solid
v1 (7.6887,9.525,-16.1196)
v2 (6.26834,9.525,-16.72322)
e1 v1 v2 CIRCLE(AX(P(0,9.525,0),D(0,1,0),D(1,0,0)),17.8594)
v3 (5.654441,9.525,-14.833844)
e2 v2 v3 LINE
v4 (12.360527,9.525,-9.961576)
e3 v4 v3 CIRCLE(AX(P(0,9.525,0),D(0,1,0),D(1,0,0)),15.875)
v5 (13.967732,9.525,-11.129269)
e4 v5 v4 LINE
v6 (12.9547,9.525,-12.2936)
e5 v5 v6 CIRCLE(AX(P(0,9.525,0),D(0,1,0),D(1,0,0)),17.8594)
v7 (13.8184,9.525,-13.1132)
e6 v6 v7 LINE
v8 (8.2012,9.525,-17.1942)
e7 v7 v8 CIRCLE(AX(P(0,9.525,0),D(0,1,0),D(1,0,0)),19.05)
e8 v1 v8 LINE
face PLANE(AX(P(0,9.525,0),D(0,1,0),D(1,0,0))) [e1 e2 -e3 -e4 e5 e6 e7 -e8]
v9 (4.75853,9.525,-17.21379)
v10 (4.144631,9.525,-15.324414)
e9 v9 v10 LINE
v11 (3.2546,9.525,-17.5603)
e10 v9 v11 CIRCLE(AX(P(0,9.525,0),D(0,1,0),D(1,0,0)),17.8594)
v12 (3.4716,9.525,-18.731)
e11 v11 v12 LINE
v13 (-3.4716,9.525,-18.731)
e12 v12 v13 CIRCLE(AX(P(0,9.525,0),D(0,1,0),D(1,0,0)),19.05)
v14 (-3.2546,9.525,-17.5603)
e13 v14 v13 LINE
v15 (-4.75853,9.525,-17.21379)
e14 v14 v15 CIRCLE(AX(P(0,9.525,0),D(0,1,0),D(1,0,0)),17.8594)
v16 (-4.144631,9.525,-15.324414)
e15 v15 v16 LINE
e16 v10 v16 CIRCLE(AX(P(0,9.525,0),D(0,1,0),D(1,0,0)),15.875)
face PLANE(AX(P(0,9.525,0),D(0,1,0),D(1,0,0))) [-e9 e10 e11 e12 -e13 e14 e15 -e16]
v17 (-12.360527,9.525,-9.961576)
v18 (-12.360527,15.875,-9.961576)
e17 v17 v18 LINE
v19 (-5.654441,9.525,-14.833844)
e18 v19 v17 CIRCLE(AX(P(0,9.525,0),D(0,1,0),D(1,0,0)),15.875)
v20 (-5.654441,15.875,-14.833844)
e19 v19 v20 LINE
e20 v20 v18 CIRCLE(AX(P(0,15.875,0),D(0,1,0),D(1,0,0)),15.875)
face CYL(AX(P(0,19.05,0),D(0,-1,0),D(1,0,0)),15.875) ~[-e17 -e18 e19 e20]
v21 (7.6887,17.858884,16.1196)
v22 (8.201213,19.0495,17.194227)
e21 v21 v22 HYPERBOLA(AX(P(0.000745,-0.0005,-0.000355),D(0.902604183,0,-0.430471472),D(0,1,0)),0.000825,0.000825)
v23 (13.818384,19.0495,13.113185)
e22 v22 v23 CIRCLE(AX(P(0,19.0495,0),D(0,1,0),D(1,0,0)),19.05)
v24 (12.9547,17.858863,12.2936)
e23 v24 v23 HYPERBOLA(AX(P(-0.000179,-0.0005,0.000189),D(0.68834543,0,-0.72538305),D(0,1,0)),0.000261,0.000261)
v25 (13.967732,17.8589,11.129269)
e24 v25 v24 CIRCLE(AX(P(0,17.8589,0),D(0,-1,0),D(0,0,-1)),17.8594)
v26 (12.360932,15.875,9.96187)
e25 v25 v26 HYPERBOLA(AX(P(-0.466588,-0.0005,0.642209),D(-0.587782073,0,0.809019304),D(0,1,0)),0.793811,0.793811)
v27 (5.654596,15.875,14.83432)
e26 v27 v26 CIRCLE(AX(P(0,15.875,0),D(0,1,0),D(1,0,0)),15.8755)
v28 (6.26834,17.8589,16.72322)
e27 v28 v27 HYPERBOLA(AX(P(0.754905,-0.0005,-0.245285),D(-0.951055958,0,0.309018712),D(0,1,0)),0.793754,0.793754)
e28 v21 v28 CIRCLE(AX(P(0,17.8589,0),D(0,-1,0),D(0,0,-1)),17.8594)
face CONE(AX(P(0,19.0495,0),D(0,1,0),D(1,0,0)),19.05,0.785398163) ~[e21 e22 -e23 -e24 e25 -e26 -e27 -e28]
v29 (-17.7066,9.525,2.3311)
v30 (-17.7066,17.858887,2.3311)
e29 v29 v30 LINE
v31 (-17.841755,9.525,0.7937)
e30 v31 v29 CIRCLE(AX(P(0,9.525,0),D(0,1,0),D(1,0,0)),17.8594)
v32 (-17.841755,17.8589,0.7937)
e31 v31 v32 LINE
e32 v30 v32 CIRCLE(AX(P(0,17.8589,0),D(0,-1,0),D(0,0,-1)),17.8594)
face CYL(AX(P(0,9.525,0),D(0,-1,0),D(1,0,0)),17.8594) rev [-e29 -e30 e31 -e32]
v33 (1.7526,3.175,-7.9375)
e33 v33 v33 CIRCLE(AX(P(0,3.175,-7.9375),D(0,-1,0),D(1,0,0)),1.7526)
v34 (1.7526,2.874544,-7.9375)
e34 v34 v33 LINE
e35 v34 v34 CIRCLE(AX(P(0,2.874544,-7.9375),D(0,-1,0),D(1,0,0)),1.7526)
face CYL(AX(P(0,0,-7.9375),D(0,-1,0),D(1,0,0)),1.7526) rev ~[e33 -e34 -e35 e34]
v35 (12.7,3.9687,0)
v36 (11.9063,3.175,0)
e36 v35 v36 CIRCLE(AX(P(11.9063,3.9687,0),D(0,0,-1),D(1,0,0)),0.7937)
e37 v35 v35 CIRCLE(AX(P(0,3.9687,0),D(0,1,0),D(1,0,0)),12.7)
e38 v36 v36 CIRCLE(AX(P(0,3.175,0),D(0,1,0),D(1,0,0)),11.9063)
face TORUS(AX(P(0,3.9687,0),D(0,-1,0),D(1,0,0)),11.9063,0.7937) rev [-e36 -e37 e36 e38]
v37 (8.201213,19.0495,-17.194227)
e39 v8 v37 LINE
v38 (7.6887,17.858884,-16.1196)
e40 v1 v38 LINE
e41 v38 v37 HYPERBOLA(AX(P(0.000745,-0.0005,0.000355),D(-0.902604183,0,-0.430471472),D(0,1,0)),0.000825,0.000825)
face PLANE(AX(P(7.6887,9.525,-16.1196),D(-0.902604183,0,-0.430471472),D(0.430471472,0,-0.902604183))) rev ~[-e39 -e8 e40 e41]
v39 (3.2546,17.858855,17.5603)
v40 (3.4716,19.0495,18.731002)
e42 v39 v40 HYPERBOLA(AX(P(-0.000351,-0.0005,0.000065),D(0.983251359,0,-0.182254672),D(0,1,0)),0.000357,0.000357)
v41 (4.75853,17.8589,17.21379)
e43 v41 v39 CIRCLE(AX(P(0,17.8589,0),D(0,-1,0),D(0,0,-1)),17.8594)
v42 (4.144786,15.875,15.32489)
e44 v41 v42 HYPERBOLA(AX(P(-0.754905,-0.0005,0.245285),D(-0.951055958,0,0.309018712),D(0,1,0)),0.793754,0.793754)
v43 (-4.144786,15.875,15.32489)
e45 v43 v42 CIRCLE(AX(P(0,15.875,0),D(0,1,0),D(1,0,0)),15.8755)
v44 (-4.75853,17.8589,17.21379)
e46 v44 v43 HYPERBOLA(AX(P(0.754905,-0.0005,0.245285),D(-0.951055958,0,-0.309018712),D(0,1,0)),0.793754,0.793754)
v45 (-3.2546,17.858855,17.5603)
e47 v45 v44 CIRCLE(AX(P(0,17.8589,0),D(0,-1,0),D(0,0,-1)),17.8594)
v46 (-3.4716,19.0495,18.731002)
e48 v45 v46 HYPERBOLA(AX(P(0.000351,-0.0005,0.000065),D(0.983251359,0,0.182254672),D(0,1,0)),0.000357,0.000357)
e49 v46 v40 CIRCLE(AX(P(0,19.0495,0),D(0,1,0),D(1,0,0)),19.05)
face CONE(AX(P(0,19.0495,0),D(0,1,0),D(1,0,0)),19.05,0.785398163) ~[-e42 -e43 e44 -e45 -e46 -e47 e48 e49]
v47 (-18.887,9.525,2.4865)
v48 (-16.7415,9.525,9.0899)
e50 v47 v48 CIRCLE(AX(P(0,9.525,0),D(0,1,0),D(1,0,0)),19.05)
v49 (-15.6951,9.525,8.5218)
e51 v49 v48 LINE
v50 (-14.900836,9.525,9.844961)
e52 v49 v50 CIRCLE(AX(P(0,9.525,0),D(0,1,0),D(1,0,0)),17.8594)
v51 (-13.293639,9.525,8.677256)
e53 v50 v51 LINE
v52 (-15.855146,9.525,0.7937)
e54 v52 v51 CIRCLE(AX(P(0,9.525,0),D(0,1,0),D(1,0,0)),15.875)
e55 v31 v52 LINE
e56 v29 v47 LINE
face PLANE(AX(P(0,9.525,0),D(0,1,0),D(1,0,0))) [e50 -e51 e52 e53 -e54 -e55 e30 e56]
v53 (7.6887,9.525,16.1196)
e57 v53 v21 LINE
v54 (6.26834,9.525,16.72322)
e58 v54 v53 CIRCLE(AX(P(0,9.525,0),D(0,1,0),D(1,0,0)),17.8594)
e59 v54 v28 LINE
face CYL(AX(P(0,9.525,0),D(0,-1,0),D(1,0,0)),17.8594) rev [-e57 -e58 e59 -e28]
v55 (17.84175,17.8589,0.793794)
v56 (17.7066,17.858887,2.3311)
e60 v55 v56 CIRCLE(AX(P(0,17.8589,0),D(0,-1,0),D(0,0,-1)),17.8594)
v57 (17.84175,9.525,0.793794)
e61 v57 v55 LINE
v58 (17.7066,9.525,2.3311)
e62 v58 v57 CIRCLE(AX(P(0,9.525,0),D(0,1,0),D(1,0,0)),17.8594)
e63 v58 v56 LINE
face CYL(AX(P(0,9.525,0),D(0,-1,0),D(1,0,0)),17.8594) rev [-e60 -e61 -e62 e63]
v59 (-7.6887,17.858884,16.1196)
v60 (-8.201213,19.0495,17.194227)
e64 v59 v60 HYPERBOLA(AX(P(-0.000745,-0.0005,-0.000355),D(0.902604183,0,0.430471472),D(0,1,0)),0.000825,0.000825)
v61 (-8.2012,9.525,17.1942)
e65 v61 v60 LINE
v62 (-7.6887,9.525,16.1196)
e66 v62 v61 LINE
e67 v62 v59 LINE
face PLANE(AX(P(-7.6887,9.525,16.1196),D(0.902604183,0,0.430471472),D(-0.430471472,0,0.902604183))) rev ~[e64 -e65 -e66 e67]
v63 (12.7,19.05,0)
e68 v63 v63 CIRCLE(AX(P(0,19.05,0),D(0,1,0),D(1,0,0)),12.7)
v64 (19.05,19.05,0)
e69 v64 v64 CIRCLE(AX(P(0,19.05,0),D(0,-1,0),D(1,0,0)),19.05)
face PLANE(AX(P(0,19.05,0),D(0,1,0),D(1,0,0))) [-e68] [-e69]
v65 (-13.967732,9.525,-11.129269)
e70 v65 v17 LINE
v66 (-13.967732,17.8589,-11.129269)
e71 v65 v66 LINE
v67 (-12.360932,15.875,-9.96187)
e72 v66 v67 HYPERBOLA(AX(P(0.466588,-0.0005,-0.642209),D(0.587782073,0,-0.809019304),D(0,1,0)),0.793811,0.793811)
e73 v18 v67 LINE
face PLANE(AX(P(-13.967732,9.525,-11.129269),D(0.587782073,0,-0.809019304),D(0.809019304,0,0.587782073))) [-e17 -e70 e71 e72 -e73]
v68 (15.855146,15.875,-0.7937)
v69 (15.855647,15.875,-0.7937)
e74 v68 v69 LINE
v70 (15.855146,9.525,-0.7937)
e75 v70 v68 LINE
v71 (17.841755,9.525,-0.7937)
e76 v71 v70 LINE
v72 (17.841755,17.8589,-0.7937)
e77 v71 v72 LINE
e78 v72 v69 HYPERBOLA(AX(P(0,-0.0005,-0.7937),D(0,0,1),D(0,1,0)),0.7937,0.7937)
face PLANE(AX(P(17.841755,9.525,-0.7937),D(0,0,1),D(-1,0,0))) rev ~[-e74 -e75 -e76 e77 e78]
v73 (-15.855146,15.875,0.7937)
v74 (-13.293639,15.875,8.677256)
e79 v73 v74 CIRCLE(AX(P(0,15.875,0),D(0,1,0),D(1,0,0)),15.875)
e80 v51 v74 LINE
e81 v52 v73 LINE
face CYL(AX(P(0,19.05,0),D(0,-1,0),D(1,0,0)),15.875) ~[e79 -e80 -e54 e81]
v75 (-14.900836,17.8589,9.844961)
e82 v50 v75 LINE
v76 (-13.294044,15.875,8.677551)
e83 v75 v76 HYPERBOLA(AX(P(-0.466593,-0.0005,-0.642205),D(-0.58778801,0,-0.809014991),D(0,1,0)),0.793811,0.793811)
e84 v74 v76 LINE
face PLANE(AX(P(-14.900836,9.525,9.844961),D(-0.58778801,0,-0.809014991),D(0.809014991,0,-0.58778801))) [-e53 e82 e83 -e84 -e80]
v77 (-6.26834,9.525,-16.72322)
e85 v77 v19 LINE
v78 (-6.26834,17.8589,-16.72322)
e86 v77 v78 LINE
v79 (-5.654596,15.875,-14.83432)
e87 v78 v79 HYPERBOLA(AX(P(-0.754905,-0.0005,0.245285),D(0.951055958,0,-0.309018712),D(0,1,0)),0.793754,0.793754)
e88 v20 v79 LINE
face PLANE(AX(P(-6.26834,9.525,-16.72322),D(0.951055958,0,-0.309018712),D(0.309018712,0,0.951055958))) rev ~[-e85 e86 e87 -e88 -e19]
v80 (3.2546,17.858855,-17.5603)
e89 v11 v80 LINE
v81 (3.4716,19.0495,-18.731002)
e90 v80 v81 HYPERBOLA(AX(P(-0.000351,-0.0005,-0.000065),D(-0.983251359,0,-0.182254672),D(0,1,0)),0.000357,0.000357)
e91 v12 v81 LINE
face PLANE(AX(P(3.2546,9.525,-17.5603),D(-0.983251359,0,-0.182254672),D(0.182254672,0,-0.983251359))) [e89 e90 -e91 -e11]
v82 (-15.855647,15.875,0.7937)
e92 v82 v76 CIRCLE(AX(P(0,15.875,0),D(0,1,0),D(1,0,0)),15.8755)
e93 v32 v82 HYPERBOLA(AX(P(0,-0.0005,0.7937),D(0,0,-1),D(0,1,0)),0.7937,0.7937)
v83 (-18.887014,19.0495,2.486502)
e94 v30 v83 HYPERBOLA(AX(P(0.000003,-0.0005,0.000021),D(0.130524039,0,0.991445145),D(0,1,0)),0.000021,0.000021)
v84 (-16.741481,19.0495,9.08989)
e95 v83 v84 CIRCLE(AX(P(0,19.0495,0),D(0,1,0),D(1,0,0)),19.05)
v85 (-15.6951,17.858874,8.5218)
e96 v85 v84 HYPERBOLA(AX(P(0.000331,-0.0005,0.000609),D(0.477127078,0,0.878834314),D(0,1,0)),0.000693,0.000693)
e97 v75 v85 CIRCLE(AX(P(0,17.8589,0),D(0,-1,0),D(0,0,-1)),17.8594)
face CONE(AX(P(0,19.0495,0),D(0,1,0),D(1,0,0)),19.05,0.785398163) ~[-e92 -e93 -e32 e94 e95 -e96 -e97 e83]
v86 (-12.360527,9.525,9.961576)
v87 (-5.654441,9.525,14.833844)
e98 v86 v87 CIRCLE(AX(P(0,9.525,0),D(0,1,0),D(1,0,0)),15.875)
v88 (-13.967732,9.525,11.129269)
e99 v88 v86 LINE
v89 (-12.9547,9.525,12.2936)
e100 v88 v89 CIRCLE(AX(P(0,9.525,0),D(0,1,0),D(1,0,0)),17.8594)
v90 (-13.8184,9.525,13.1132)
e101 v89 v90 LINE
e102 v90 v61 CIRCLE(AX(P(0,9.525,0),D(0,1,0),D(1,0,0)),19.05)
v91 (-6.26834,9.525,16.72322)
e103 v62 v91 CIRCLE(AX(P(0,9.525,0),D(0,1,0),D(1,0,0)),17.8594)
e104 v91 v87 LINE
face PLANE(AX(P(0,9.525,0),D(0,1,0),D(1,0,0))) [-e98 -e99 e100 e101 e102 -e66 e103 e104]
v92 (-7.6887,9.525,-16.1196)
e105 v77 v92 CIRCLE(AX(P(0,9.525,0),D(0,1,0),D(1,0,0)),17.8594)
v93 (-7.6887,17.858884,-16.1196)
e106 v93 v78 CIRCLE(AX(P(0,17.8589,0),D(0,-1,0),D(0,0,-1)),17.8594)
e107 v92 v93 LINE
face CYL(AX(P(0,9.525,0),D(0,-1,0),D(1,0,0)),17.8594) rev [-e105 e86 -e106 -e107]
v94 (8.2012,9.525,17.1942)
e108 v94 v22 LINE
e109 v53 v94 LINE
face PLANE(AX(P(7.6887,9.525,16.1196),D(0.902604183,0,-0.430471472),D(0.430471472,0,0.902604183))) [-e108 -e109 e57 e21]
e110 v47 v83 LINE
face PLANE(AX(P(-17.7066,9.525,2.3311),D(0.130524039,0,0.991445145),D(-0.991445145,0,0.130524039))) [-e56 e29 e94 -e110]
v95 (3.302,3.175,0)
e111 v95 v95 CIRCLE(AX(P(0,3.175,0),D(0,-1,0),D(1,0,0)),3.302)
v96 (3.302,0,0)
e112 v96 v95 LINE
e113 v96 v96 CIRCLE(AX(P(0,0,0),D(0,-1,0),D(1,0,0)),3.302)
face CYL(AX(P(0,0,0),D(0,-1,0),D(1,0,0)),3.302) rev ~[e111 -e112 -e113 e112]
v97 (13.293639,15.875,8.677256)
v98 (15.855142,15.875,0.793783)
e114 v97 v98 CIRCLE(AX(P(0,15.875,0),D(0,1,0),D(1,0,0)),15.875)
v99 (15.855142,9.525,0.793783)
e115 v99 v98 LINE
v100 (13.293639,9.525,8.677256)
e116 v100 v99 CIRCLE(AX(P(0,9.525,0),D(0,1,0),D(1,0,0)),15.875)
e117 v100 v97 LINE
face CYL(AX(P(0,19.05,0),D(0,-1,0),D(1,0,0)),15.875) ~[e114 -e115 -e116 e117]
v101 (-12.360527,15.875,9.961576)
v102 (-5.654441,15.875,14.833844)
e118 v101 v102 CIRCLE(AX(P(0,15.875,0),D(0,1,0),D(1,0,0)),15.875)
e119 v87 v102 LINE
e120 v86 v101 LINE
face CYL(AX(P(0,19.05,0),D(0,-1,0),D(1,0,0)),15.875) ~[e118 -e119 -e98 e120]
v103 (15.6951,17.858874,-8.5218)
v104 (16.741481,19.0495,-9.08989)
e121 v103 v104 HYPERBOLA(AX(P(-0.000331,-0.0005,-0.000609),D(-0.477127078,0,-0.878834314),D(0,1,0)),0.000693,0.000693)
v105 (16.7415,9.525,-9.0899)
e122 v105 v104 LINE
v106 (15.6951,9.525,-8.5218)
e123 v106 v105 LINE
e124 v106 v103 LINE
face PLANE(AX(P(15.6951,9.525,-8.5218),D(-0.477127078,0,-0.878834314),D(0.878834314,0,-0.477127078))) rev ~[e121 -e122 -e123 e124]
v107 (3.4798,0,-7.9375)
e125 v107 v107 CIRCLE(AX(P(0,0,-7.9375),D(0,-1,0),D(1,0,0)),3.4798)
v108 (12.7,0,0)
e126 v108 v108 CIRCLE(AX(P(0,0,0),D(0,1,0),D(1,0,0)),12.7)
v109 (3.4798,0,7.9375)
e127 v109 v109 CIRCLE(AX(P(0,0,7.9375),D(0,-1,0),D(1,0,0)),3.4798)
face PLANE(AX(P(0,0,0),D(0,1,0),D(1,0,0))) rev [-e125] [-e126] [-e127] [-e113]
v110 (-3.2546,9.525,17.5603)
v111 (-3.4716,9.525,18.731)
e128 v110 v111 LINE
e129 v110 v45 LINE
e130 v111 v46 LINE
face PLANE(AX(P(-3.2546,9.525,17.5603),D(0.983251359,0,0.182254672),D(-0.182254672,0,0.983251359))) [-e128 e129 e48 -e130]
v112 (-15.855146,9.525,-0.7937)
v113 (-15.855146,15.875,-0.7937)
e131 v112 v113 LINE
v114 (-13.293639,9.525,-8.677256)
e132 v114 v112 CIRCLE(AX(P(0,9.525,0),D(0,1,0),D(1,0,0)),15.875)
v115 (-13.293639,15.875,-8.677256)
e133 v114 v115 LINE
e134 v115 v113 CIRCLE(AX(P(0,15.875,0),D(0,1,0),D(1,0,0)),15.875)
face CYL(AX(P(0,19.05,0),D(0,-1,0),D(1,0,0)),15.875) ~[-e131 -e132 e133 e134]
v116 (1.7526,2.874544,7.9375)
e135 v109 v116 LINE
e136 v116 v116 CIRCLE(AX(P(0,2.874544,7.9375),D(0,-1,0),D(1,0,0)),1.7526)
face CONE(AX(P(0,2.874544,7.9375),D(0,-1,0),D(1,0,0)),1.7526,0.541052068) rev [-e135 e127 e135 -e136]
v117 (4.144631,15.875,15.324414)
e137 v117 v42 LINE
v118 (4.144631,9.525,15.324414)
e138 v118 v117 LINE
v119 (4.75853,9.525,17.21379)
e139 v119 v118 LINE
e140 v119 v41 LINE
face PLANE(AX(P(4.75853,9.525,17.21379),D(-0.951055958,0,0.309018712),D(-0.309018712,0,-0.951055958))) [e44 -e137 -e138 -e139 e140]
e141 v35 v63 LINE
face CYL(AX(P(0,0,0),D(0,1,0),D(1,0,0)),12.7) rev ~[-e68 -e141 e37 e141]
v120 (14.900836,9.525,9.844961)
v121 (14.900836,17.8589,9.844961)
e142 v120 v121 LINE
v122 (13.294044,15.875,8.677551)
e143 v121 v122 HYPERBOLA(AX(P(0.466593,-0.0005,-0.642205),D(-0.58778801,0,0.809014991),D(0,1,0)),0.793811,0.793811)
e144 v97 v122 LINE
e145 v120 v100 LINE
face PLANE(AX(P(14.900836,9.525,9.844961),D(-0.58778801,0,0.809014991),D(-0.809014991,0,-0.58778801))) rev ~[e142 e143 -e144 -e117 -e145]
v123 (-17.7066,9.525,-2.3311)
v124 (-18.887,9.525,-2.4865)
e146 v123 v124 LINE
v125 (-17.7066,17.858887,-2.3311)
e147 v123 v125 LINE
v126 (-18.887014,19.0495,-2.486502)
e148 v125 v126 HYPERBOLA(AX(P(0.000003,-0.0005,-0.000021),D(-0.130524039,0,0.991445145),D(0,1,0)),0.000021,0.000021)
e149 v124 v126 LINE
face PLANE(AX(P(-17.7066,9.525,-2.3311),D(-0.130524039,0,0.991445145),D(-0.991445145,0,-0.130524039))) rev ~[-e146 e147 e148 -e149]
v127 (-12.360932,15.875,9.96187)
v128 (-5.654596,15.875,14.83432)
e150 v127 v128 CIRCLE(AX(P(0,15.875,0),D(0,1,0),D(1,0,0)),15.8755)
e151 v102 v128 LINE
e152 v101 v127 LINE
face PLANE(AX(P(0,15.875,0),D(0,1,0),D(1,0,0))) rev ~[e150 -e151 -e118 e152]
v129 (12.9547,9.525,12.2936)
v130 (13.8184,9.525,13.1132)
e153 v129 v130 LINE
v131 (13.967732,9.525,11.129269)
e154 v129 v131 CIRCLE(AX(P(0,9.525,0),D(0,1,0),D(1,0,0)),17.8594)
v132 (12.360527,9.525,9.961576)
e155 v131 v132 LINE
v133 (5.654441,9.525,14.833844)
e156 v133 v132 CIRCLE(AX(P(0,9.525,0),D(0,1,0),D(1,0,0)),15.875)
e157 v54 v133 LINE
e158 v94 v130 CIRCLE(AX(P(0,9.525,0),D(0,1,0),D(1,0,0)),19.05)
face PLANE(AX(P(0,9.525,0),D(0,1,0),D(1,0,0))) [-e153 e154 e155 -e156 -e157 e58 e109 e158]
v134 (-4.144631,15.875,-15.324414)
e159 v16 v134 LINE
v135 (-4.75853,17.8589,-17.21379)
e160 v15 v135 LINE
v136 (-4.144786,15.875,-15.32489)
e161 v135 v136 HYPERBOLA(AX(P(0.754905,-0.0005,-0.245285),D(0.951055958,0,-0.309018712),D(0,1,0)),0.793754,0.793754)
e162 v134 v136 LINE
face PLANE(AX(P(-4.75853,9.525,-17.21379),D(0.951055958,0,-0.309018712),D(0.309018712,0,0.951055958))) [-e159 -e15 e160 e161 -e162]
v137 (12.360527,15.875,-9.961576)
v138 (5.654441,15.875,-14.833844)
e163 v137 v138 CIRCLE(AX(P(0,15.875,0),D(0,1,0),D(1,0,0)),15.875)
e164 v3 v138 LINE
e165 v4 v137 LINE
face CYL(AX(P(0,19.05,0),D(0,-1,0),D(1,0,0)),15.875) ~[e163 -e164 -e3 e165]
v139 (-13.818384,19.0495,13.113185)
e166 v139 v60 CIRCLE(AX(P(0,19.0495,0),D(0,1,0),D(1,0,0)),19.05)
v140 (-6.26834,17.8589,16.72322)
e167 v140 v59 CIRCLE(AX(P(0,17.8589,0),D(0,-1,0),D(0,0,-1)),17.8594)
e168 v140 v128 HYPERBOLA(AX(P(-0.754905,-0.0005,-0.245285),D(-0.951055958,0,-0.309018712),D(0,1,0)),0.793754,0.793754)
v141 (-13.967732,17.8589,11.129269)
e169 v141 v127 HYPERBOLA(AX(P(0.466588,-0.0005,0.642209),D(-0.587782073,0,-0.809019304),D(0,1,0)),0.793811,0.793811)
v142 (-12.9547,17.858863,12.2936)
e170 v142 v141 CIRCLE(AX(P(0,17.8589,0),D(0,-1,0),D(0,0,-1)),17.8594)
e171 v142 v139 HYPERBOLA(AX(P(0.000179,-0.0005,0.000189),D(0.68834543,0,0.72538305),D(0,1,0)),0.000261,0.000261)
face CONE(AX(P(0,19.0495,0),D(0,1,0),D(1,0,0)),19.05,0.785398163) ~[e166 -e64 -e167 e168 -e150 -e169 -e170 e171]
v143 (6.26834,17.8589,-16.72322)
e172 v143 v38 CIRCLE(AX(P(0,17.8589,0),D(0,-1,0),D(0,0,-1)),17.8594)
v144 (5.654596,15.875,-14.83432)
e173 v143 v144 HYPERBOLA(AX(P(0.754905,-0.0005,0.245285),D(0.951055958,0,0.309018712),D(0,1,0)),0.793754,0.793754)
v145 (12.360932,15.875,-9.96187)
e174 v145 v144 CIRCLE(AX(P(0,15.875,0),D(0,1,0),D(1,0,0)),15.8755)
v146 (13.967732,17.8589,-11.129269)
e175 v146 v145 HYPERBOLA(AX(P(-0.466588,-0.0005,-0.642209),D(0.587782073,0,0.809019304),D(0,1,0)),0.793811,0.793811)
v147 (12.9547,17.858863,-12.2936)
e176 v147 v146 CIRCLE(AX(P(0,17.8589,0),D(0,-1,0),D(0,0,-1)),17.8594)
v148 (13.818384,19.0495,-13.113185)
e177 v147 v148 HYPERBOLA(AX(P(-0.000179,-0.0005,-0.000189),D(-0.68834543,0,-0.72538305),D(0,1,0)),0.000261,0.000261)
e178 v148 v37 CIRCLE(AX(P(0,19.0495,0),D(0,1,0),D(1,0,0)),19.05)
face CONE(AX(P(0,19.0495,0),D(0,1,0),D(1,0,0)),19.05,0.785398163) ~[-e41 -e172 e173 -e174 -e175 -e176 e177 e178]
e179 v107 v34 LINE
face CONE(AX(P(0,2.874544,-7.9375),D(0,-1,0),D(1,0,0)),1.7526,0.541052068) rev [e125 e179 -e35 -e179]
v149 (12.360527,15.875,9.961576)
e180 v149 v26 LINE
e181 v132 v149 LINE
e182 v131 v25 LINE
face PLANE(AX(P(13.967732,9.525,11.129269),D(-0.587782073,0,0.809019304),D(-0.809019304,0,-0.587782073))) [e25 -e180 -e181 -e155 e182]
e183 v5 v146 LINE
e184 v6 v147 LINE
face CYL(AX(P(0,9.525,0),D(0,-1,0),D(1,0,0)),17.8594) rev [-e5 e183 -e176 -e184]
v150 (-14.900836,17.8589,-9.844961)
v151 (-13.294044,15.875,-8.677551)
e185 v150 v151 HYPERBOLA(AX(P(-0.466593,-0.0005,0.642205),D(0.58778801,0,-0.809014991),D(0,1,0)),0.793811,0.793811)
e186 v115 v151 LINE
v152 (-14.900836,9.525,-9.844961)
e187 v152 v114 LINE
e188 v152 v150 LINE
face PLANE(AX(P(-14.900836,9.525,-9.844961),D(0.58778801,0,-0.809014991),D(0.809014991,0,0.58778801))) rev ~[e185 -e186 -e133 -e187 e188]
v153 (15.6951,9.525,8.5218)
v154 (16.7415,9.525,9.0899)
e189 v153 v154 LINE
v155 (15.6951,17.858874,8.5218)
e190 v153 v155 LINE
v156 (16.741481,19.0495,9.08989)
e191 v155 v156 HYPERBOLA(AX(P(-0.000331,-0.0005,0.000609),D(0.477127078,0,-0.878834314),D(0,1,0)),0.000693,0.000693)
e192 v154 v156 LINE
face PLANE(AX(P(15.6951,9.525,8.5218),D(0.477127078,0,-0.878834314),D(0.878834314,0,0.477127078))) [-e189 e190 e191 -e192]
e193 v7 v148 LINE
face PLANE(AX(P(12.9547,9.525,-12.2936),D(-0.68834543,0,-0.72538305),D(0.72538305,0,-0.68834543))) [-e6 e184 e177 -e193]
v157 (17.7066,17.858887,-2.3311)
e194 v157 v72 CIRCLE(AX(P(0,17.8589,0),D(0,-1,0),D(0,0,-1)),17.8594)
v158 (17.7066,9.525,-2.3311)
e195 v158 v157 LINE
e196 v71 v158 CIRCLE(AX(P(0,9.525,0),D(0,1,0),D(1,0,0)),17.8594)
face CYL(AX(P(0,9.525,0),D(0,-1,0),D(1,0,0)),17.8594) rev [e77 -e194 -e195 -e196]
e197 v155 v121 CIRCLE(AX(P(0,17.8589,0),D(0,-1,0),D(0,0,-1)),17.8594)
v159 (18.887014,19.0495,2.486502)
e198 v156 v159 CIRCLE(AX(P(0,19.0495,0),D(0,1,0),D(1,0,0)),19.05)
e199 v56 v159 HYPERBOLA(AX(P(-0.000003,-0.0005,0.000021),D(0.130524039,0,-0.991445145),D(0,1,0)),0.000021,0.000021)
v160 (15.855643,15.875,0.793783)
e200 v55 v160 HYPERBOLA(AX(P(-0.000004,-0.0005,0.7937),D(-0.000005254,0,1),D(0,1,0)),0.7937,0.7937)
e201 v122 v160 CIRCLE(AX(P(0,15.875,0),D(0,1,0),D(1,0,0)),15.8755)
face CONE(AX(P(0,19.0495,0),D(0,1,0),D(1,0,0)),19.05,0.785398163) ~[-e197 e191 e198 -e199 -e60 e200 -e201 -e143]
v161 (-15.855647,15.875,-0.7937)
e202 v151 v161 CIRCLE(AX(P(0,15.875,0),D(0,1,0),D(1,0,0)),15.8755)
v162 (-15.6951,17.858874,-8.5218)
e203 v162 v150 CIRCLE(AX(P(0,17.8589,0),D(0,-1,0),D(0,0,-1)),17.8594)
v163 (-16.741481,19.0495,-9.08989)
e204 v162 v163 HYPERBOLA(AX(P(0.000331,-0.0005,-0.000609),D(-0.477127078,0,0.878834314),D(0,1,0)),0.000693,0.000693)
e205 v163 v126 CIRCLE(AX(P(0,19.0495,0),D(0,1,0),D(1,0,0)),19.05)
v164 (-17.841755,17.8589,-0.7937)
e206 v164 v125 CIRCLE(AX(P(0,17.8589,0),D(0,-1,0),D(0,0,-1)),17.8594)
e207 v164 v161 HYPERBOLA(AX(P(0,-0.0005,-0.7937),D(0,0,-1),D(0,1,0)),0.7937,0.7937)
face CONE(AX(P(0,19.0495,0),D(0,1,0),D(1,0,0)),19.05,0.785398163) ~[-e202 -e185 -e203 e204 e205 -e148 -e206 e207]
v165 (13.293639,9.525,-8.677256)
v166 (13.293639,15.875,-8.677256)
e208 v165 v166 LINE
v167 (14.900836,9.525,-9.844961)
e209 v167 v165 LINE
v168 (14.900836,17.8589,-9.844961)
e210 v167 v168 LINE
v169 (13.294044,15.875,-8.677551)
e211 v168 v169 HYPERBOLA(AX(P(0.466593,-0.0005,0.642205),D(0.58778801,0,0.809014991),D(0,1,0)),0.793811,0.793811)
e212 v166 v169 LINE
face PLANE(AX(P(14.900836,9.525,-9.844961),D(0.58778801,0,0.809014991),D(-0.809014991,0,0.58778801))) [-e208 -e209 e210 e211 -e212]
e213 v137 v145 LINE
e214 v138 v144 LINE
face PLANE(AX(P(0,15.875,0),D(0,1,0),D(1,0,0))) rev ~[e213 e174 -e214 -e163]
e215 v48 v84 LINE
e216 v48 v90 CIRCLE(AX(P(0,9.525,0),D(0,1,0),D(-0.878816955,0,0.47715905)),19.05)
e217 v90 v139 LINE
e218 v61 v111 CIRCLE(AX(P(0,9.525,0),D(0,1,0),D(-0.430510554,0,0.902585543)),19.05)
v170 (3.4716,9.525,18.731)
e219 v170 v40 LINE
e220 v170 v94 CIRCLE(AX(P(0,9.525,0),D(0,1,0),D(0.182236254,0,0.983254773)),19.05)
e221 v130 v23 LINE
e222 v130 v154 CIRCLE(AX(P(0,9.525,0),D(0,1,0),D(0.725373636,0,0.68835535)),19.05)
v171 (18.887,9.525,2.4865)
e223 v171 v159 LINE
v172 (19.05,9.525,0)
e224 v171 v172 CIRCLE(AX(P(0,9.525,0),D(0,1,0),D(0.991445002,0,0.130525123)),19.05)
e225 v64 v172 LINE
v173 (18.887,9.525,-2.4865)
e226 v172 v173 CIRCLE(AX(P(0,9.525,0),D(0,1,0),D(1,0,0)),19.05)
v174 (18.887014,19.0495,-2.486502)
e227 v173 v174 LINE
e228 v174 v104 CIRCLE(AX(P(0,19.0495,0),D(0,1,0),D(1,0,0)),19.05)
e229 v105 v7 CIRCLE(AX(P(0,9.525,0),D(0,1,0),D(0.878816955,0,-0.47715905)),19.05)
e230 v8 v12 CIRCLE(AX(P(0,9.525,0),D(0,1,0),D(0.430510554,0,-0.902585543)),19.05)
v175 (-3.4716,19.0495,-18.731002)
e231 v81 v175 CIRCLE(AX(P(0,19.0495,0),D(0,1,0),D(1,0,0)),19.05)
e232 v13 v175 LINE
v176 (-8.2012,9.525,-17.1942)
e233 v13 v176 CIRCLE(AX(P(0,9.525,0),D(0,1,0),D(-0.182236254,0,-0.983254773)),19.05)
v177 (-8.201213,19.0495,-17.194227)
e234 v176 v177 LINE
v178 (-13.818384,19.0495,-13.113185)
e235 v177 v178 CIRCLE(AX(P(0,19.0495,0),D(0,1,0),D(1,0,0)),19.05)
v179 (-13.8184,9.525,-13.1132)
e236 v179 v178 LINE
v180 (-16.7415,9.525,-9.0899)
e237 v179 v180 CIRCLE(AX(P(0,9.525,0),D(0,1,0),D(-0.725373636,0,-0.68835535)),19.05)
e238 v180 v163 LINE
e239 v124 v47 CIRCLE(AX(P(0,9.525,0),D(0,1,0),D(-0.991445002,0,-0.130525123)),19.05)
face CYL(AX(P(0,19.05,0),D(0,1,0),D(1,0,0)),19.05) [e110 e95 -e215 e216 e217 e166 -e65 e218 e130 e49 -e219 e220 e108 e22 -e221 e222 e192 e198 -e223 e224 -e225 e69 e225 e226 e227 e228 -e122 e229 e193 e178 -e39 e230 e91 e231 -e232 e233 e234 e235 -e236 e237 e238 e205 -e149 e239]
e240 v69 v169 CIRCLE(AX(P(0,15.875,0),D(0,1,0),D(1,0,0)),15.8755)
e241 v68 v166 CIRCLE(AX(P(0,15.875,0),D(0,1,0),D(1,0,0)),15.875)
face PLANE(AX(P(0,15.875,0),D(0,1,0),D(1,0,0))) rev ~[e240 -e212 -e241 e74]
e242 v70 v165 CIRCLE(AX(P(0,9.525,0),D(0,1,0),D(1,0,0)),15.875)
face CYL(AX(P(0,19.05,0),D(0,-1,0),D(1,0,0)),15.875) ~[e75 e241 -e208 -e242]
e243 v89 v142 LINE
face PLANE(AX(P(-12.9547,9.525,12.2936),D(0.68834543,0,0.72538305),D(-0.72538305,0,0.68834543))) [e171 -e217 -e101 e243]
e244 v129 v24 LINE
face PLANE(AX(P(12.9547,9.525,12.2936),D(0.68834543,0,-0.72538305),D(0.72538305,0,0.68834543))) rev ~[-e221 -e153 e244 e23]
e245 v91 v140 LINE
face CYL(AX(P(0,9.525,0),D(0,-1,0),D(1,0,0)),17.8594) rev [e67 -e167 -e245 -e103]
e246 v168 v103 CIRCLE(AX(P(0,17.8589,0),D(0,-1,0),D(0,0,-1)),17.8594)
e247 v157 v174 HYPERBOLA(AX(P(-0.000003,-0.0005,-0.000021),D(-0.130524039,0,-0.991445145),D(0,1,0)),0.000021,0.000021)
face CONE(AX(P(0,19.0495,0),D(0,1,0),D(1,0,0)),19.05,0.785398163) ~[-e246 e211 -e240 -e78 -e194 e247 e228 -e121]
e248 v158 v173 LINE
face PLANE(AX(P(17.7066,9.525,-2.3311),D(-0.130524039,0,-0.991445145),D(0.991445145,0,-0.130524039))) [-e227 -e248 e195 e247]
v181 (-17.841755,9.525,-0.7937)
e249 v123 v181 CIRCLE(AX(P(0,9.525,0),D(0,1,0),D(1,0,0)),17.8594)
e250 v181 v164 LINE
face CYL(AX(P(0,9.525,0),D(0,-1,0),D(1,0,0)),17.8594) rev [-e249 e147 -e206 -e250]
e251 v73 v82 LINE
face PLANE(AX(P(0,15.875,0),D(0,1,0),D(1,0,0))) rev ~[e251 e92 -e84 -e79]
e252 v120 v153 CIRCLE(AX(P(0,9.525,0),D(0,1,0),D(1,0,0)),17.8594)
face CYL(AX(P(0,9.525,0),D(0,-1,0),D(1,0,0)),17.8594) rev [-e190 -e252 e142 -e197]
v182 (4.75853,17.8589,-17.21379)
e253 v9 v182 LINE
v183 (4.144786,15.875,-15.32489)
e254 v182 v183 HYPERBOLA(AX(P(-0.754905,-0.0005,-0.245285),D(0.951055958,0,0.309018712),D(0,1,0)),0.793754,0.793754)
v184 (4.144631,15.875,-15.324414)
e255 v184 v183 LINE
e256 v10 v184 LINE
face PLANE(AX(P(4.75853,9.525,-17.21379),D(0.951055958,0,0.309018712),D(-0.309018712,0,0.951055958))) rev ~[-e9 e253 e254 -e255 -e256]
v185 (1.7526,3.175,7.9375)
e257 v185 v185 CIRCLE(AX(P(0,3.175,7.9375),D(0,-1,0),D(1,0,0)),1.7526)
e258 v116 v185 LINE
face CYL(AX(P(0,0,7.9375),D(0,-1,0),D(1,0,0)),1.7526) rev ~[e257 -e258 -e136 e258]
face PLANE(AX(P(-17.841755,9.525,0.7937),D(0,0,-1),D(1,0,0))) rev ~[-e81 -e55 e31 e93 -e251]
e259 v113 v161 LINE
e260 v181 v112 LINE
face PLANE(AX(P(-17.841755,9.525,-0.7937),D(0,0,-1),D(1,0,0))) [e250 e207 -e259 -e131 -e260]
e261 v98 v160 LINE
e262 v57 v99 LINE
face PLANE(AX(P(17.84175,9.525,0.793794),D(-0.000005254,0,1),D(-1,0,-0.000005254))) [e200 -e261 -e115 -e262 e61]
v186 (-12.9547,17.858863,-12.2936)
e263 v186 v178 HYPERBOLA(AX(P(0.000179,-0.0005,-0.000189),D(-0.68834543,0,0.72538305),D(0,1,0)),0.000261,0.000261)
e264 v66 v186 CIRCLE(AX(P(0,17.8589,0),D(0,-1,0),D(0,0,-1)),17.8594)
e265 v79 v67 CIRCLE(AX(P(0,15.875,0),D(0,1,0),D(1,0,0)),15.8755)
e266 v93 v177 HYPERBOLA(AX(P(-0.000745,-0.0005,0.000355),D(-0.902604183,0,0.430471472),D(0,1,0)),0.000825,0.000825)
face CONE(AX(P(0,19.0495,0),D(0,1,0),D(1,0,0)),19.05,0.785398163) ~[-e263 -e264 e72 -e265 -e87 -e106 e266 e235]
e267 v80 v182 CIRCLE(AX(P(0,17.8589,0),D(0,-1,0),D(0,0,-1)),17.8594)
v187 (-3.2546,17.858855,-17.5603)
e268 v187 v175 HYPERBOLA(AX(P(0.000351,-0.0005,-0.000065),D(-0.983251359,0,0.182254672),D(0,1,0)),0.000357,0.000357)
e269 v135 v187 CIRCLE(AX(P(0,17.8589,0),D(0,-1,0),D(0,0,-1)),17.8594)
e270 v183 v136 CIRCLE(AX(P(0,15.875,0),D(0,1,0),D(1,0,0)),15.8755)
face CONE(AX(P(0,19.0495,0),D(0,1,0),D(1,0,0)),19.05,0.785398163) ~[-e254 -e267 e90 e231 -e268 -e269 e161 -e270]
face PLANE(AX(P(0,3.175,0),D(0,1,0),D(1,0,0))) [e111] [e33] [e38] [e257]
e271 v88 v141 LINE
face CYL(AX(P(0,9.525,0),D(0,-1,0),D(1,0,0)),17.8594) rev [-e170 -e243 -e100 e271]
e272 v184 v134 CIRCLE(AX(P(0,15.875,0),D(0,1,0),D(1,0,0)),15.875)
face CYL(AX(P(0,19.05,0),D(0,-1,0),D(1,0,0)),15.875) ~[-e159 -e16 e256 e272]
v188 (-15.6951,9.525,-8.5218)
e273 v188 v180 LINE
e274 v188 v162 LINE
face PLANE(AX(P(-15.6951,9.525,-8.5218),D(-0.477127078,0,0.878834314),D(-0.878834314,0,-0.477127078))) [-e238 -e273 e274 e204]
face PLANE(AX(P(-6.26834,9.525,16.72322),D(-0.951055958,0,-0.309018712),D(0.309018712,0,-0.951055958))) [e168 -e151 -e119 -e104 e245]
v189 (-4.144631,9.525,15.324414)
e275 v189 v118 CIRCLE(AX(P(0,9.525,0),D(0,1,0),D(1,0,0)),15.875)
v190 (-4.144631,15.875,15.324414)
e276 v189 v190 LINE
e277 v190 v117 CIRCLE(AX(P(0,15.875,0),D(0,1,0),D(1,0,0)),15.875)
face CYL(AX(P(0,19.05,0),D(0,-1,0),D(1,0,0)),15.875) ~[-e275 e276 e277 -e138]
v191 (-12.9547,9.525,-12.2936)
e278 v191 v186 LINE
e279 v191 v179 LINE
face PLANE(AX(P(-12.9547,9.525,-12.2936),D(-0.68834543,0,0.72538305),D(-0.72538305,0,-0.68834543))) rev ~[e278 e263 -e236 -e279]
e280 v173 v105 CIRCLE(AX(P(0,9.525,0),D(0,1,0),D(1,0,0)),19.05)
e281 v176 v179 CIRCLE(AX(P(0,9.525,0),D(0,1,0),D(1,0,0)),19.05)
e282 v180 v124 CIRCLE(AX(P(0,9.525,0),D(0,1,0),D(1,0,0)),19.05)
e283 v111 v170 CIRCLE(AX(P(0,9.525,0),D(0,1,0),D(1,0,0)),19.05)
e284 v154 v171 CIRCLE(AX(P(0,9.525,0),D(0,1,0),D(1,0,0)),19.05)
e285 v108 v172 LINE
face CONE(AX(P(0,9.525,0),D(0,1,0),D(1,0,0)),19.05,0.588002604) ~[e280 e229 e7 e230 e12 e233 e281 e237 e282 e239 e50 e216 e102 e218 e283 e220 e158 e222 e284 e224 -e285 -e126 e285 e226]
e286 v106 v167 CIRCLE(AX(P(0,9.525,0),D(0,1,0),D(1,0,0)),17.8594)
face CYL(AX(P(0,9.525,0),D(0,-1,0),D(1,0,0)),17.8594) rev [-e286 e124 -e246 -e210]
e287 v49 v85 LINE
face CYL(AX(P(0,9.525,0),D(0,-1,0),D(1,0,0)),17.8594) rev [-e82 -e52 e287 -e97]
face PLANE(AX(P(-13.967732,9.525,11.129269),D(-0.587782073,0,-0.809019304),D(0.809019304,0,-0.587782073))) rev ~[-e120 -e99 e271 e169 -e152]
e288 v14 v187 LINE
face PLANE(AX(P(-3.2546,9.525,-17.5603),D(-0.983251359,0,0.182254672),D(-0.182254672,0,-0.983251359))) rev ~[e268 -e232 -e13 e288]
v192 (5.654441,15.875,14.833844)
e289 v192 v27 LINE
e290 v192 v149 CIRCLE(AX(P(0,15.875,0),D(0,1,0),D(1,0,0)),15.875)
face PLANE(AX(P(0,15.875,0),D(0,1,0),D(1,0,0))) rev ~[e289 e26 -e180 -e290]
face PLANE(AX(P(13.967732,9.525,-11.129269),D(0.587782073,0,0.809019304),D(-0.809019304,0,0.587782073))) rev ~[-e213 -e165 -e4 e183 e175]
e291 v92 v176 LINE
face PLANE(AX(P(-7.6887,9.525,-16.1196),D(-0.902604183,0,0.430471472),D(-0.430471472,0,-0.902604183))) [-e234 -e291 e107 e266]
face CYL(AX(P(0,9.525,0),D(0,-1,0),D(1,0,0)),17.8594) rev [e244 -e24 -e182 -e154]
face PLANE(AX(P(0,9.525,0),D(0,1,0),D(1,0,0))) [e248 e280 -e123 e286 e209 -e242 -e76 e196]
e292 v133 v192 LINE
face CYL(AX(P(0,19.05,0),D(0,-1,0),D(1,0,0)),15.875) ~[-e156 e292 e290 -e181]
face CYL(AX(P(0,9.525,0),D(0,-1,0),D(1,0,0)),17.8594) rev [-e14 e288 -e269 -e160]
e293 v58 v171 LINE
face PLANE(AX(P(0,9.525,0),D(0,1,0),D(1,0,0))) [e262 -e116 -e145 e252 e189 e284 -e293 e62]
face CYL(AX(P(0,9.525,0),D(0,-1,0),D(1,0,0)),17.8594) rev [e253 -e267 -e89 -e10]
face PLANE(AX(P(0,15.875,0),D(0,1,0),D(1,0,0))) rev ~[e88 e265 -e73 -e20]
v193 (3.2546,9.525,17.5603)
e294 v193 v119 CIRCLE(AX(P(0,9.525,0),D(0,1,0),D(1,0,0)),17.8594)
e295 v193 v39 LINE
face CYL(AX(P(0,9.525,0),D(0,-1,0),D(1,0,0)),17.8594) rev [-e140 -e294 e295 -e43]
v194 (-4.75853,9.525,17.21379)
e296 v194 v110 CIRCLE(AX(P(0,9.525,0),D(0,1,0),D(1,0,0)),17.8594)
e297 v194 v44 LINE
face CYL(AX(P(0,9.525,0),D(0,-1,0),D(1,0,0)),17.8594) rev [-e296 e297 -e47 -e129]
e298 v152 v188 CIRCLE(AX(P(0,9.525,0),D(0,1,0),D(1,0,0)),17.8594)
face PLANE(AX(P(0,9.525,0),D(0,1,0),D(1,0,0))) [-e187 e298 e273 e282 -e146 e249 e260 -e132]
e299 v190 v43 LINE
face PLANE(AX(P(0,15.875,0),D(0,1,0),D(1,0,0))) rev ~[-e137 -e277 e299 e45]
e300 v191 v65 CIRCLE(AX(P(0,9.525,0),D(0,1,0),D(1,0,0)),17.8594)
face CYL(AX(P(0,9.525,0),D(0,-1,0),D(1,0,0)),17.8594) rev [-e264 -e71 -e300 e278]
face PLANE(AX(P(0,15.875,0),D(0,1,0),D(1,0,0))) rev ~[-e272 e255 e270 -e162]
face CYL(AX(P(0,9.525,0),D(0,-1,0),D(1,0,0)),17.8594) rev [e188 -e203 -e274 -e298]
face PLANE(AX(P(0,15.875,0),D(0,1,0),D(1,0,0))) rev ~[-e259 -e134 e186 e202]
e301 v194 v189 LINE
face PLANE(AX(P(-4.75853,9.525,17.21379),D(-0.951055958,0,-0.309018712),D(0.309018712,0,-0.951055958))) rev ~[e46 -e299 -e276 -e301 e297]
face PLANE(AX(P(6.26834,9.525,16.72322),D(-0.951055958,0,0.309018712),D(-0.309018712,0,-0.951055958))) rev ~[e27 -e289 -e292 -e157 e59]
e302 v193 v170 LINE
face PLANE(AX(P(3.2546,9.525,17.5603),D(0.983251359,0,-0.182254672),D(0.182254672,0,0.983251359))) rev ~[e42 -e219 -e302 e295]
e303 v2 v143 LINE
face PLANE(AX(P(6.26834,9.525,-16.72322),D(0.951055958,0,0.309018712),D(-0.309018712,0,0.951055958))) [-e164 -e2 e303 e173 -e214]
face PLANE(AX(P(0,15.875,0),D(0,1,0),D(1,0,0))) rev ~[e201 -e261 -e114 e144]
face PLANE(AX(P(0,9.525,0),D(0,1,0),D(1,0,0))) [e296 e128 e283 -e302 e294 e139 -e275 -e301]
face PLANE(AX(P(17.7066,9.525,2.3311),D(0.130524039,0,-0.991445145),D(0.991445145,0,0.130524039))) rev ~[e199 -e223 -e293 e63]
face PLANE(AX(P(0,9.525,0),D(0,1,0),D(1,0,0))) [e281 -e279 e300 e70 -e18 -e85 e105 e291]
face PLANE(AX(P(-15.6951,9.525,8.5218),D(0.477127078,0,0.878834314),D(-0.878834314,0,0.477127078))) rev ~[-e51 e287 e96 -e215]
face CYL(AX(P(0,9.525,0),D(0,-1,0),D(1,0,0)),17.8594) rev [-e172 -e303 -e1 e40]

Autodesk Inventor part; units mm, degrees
ref_plane "YZ Plane" through (0, 0, 0) normal (1, 0, 0) x (0, 1, 0)
ref_plane "XZ Plane" through (0, 0, 0) normal (0, 1, 0) x (-1, 0, 0)
ref_plane "XY Plane" through (0, 0, 0) normal (0, 0, 1) x (1, 0, 0)
sketch "Sketch1" plane through (0, 0, 0) normal (0, 0, 1) x (1, 0, 0)
  line L0 (0, 19.05) -> (15.875, 19.05)
  line L1 (0, 9.525) -> (15.875, 9.525)
  line L2 (15.875, 19.05) -> (15.875, 9.525)
  line L3 (0, 0) -> (0, 19.05)
  line L4 (0, 19.05) -> (12.7, 19.05)
  line L5 (0, 0) -> (12.7, 0)
  line L6 (12.7, 0) -> (12.7, 19.05)
  line L7 (12.7, 19.05) -> (0, 19.05)
  line L8 (0, 19.05) -> (0, 0)
  line L9 (12.7, 3.175) -> (0, 3.175)
  line L10 (14.2875, 19.05) -> (14.2875, 9.525)
  line L11 (12.7, 0) -> (15.875, 0)
  line L12 (15.875, 0) -> (15.875, 9.525)
  line L13 (15.875, 9.525) -> (12.7, 9.525)
  line L14 (12.7, 9.525) -> (12.7, 0)
  line L15 (15.875, 0) -> (19.05, 9.525)
  line L16 (19.05, 9.525) -> (15.875, 9.525)
  line L17 (19.05, 9.525) -> (12.7, 0)
  point P0 (0, 3.175)
  dimension "d2" = 15.875
  dimension "d3" = 9.525
  dimension "d5" = 12.7
  dimension "d6" = 19.05
  dimension "d7" = 3.175
  dimension "d8" = 1.5875
  dimension "d21" = 19.05
revolve "Revolution1" add sketch "Sketch1" angle 360 about axis through (0, 0, 0) along (0, 1, 0) contours L0 L10 L1 L6 | L0 L2 L1 L10 | L1 L12 L17 L6 | L9 L6 L5 L3 | L16 L17 L12
sketch "Sketch2" plane through (0, 0, 0) normal (0, -1, 0) x (1, 0, 0)
  circle A0 centre (0, 0) radius 3.302
  line L0 (0, 0) -> (0, -7.9375) construction
  circle A1 centre (0, -7.9375) radius 1.7526
  circle A2 centre (0, 7.9375) radius 1.7526
  point P0 (0, 0)
  dimension "d10" = 6.604
  dimension "d11" = 7.9375
  dimension "d12" = 3.5052
  dimension "d15" = 360
extrude "Extrusion1" cut sketch "Sketch2" against normal blind 25.4
fillet "Fillet1" radius 0.7937 1 edges at (-12.7, 3.175, 0)
chamfer "Chamfer1" distance 1.7272 angle 59 2 edges at (-1.7526, 0, 7.9375) (-1.7526, 0, -7.9375) measured on face at (-4.5098, 0, 5.9114)
sketch "Sketch5" plane through (0, 19.05, 0) normal (0, 1, 0) x (1, 0, 0)
  circle A0 centre (0, 0) radius 19.05
  circle A1 centre (0, 0) radius 15.875
  dimension "d41" = 38.1
extrude "Extrusion3" add sketch "Sketch5" against normal blind 3.175
chamfer "Chamfer3" distance 3.175 angle 45 1 edges at (-19.05, 15.875, 0)
sketch "Sketch3" plane through (0, 9.525, 0) normal (0, 1, 0) x (1, 0, 0)
  circle A0 centre (0, 0) radius 19.05
  circle A1 centre (0, 0) radius 15.875
  circle A2 centre (0, 0) radius 17.8594
  line L0 (0, 0) -> (-19.0335, 0)
  line L1 (-19.0335, 0) -> (-19.0335, 0.7937) construction
  line L2 (-19.0335, 0.7937) -> (0, 0.7937)
  line L3 (0, 0.7937) -> (0, 0)
  line L4 (-19.0335, -0.7937) -> (0, -0.7937)
  circle A3 centre (0, 0) radius 19.05 projected
  line L5 (-17.7066, 2.3311) -> (-18.887, 2.4865)
  line L6 (-17.7066, -2.3311) -> (-18.887, -2.4865)
  line L7 (-15.8649, -10.5454) -> (-0.4666, 0.6422)
  line L8 (-14.9318, -11.8297) -> (0.4666, -0.6422)
  line L9 (-12.9547, -12.2936) -> (-13.8184, -13.1132)
  line L10 (-15.6951, -8.5218) -> (-16.7415, -9.0899)
  line L11 (-6.6366, -17.8566) -> (-0.7549, 0.2453)
  line L12 (-5.1268, -18.3472) -> (0.7549, -0.2453)
  line L13 (-3.2546, -17.5603) -> (-3.4716, -18.731)
  line L14 (-7.6887, -16.1196) -> (-8.2012, -17.1942)
  line L15 (5.1268, -18.3472) -> (-0.7549, -0.2453)
  line L16 (6.6366, -17.8566) -> (0.7549, 0.2453)
  line L17 (7.6887, -16.1196) -> (8.2012, -17.1942)
  line L18 (3.2546, -17.5603) -> (3.4716, -18.731)
  line L19 (14.9318, -11.8297) -> (-0.4666, -0.6422)
  line L20 (15.8649, -10.5454) -> (0.4666, 0.6422)
  line L21 (15.6951, -8.5218) -> (16.7415, -9.0899)
  line L22 (12.9547, -12.2936) -> (13.8184, -13.1132)
  line L23 (19.0335, -0.7938) -> (0, -0.7937)
  line L24 (19.0335, 0.7937) -> (0, 0.7937)
  line L25 (17.7066, 2.3311) -> (18.887, 2.4865)
  line L26 (17.7066, -2.3311) -> (18.887, -2.4865)
  line L27 (15.8649, 10.5454) -> (0.4666, -0.6422)
  line L28 (14.9318, 11.8297) -> (-0.4666, 0.6422)
  line L29 (12.9547, 12.2936) -> (13.8184, 13.1132)
  line L30 (15.6951, 8.5218) -> (16.7415, 9.0899)
  line L31 (6.6366, 17.8566) -> (0.7549, -0.2453)
  line L32 (5.1268, 18.3472) -> (-0.7549, 0.2453)
  line L33 (3.2546, 17.5603) -> (3.4716, 18.731)
  line L34 (7.6887, 16.1196) -> (8.2012, 17.1942)
  line L35 (-5.1268, 18.3472) -> (0.7549, 0.2453)
  line L36 (-6.6366, 17.8566) -> (-0.7549, -0.2453)
  line L37 (-7.6887, 16.1196) -> (-8.2012, 17.1942)
  line L38 (-3.2546, 17.5603) -> (-3.4716, 18.731)
  line L39 (-14.9318, 11.8297) -> (0.4666, 0.6422)
  line L40 (-15.8649, 10.5454) -> (-0.4666, -0.6422)
  line L41 (-15.6951, 8.5218) -> (-16.7415, 9.0899)
  line L42 (-12.9547, 12.2936) -> (-13.8184, 13.1132)
  point P0 (-13.9677, -11.1293)
  point P1 (-12.3605, -9.9616)
  point P2 (-13.2936, -8.6773)
  point P3 (-14.9008, -9.8449)
  point P4 (-4.7585, -17.2138)
  point P5 (-4.1446, -15.3244)
  point P6 (-5.6544, -14.8339)
  point P7 (-6.2683, -16.7232)
  point P8 (6.2683, -16.7232)
  point P9 (5.6544, -14.8339)
  point P10 (4.1446, -15.3244)
  point P11 (4.7585, -17.2138)
  point P12 (14.9008, -9.8449)
  point P13 (13.2936, -8.6773)
  point P14 (12.3605, -9.9616)
  point P15 (13.9677, -11.1293)
  point P16 (17.8417, 0.7937)
  point P17 (15.8551, 0.7937)
  point P18 (15.8551, -0.7938)
  point P19 (17.8417, -0.7938)
  point P20 (13.9677, 11.1293)
  point P21 (12.3605, 9.9616)
  point P22 (13.2936, 8.6773)
  point P23 (14.9008, 9.8449)
  point P24 (4.7585, 17.2138)
  point P25 (4.1446, 15.3244)
  point P26 (5.6544, 14.8339)
  point P27 (6.2683, 16.7232)
  point P28 (-6.2683, 16.7232)
  point P29 (-5.6544, 14.8339)
  point P30 (-4.1446, 15.3244)
  point P31 (-4.7585, 17.2138)
  point P32 (-14.9008, 9.8449)
  point P33 (-13.2936, 8.6773)
  point P34 (-12.3605, 9.9616)
  point P35 (-13.9677, 11.1293)
  point P36 (-17.8417, -0.7938)
  point P37 (-15.8551, -0.7938)
  point P38 (-15.8551, 0.7937)
  point P39 (-17.8417, 0.7937)
  dimension "d25" = 38.1
  dimension "d27" = 1.1906
  dimension "d26" = 31.75
  dimension "d28" = 0.7937
  dimension "d30" = 7.5
  dimension "d33" = 360
extrude "Extrusion2" add sketch "Sketch3" along normal up to surface (9.525 mm away) contours A0 L23 A2 L24 | L24 A2 L25 A0 | A0 L26 A2 L23 | A2 L23 A1 L24 | L30 A2 L27 A0 | A0 L20 A2 L21 | L27 A2 L28 A0 | A1 L28 A2 L27 | A0 L19 A2 L20 | L20 A2 L19 A1 | L28 A2 L29 A0 | A0 L22 A2 L19 | A1 L32 A2 L31 | L16 A2 L15 A1 | L34 A2 L31 A0 | A2 L32 A0 L31 | A0 L16 A2 L17 | L16 A0 L15 A2 | A1 L36 A2 L35 | A2 L33 A0 L32 | L12 A2 L11 A1 | L15 A0 L18 A2 | L35 A0 L38 A2 | A2 L36 A0 L35 | L12 A0 L11 A2 | A2 L13 A0 L12 | A1 L40 A2 L39 | A2 L37 A0 L36 | L8 A2 L7 A1 | L11 A0 L14 A2 | L39 A0 L42 A2 | A2 L40 A0 L39 | L8 A0 L7 A2 | A2 L9 A0 L8 | A1 L0 A2 L2 | A2 L41 A0 L40 | A1 L4 A2 L0 | L7 A0 L10 A2 | L2 A0 L5 A2 | A2 L4 A0 L2 | A2 L6 A0 L4
properties part number "Tire Hub" material "Nylon 6/6"
